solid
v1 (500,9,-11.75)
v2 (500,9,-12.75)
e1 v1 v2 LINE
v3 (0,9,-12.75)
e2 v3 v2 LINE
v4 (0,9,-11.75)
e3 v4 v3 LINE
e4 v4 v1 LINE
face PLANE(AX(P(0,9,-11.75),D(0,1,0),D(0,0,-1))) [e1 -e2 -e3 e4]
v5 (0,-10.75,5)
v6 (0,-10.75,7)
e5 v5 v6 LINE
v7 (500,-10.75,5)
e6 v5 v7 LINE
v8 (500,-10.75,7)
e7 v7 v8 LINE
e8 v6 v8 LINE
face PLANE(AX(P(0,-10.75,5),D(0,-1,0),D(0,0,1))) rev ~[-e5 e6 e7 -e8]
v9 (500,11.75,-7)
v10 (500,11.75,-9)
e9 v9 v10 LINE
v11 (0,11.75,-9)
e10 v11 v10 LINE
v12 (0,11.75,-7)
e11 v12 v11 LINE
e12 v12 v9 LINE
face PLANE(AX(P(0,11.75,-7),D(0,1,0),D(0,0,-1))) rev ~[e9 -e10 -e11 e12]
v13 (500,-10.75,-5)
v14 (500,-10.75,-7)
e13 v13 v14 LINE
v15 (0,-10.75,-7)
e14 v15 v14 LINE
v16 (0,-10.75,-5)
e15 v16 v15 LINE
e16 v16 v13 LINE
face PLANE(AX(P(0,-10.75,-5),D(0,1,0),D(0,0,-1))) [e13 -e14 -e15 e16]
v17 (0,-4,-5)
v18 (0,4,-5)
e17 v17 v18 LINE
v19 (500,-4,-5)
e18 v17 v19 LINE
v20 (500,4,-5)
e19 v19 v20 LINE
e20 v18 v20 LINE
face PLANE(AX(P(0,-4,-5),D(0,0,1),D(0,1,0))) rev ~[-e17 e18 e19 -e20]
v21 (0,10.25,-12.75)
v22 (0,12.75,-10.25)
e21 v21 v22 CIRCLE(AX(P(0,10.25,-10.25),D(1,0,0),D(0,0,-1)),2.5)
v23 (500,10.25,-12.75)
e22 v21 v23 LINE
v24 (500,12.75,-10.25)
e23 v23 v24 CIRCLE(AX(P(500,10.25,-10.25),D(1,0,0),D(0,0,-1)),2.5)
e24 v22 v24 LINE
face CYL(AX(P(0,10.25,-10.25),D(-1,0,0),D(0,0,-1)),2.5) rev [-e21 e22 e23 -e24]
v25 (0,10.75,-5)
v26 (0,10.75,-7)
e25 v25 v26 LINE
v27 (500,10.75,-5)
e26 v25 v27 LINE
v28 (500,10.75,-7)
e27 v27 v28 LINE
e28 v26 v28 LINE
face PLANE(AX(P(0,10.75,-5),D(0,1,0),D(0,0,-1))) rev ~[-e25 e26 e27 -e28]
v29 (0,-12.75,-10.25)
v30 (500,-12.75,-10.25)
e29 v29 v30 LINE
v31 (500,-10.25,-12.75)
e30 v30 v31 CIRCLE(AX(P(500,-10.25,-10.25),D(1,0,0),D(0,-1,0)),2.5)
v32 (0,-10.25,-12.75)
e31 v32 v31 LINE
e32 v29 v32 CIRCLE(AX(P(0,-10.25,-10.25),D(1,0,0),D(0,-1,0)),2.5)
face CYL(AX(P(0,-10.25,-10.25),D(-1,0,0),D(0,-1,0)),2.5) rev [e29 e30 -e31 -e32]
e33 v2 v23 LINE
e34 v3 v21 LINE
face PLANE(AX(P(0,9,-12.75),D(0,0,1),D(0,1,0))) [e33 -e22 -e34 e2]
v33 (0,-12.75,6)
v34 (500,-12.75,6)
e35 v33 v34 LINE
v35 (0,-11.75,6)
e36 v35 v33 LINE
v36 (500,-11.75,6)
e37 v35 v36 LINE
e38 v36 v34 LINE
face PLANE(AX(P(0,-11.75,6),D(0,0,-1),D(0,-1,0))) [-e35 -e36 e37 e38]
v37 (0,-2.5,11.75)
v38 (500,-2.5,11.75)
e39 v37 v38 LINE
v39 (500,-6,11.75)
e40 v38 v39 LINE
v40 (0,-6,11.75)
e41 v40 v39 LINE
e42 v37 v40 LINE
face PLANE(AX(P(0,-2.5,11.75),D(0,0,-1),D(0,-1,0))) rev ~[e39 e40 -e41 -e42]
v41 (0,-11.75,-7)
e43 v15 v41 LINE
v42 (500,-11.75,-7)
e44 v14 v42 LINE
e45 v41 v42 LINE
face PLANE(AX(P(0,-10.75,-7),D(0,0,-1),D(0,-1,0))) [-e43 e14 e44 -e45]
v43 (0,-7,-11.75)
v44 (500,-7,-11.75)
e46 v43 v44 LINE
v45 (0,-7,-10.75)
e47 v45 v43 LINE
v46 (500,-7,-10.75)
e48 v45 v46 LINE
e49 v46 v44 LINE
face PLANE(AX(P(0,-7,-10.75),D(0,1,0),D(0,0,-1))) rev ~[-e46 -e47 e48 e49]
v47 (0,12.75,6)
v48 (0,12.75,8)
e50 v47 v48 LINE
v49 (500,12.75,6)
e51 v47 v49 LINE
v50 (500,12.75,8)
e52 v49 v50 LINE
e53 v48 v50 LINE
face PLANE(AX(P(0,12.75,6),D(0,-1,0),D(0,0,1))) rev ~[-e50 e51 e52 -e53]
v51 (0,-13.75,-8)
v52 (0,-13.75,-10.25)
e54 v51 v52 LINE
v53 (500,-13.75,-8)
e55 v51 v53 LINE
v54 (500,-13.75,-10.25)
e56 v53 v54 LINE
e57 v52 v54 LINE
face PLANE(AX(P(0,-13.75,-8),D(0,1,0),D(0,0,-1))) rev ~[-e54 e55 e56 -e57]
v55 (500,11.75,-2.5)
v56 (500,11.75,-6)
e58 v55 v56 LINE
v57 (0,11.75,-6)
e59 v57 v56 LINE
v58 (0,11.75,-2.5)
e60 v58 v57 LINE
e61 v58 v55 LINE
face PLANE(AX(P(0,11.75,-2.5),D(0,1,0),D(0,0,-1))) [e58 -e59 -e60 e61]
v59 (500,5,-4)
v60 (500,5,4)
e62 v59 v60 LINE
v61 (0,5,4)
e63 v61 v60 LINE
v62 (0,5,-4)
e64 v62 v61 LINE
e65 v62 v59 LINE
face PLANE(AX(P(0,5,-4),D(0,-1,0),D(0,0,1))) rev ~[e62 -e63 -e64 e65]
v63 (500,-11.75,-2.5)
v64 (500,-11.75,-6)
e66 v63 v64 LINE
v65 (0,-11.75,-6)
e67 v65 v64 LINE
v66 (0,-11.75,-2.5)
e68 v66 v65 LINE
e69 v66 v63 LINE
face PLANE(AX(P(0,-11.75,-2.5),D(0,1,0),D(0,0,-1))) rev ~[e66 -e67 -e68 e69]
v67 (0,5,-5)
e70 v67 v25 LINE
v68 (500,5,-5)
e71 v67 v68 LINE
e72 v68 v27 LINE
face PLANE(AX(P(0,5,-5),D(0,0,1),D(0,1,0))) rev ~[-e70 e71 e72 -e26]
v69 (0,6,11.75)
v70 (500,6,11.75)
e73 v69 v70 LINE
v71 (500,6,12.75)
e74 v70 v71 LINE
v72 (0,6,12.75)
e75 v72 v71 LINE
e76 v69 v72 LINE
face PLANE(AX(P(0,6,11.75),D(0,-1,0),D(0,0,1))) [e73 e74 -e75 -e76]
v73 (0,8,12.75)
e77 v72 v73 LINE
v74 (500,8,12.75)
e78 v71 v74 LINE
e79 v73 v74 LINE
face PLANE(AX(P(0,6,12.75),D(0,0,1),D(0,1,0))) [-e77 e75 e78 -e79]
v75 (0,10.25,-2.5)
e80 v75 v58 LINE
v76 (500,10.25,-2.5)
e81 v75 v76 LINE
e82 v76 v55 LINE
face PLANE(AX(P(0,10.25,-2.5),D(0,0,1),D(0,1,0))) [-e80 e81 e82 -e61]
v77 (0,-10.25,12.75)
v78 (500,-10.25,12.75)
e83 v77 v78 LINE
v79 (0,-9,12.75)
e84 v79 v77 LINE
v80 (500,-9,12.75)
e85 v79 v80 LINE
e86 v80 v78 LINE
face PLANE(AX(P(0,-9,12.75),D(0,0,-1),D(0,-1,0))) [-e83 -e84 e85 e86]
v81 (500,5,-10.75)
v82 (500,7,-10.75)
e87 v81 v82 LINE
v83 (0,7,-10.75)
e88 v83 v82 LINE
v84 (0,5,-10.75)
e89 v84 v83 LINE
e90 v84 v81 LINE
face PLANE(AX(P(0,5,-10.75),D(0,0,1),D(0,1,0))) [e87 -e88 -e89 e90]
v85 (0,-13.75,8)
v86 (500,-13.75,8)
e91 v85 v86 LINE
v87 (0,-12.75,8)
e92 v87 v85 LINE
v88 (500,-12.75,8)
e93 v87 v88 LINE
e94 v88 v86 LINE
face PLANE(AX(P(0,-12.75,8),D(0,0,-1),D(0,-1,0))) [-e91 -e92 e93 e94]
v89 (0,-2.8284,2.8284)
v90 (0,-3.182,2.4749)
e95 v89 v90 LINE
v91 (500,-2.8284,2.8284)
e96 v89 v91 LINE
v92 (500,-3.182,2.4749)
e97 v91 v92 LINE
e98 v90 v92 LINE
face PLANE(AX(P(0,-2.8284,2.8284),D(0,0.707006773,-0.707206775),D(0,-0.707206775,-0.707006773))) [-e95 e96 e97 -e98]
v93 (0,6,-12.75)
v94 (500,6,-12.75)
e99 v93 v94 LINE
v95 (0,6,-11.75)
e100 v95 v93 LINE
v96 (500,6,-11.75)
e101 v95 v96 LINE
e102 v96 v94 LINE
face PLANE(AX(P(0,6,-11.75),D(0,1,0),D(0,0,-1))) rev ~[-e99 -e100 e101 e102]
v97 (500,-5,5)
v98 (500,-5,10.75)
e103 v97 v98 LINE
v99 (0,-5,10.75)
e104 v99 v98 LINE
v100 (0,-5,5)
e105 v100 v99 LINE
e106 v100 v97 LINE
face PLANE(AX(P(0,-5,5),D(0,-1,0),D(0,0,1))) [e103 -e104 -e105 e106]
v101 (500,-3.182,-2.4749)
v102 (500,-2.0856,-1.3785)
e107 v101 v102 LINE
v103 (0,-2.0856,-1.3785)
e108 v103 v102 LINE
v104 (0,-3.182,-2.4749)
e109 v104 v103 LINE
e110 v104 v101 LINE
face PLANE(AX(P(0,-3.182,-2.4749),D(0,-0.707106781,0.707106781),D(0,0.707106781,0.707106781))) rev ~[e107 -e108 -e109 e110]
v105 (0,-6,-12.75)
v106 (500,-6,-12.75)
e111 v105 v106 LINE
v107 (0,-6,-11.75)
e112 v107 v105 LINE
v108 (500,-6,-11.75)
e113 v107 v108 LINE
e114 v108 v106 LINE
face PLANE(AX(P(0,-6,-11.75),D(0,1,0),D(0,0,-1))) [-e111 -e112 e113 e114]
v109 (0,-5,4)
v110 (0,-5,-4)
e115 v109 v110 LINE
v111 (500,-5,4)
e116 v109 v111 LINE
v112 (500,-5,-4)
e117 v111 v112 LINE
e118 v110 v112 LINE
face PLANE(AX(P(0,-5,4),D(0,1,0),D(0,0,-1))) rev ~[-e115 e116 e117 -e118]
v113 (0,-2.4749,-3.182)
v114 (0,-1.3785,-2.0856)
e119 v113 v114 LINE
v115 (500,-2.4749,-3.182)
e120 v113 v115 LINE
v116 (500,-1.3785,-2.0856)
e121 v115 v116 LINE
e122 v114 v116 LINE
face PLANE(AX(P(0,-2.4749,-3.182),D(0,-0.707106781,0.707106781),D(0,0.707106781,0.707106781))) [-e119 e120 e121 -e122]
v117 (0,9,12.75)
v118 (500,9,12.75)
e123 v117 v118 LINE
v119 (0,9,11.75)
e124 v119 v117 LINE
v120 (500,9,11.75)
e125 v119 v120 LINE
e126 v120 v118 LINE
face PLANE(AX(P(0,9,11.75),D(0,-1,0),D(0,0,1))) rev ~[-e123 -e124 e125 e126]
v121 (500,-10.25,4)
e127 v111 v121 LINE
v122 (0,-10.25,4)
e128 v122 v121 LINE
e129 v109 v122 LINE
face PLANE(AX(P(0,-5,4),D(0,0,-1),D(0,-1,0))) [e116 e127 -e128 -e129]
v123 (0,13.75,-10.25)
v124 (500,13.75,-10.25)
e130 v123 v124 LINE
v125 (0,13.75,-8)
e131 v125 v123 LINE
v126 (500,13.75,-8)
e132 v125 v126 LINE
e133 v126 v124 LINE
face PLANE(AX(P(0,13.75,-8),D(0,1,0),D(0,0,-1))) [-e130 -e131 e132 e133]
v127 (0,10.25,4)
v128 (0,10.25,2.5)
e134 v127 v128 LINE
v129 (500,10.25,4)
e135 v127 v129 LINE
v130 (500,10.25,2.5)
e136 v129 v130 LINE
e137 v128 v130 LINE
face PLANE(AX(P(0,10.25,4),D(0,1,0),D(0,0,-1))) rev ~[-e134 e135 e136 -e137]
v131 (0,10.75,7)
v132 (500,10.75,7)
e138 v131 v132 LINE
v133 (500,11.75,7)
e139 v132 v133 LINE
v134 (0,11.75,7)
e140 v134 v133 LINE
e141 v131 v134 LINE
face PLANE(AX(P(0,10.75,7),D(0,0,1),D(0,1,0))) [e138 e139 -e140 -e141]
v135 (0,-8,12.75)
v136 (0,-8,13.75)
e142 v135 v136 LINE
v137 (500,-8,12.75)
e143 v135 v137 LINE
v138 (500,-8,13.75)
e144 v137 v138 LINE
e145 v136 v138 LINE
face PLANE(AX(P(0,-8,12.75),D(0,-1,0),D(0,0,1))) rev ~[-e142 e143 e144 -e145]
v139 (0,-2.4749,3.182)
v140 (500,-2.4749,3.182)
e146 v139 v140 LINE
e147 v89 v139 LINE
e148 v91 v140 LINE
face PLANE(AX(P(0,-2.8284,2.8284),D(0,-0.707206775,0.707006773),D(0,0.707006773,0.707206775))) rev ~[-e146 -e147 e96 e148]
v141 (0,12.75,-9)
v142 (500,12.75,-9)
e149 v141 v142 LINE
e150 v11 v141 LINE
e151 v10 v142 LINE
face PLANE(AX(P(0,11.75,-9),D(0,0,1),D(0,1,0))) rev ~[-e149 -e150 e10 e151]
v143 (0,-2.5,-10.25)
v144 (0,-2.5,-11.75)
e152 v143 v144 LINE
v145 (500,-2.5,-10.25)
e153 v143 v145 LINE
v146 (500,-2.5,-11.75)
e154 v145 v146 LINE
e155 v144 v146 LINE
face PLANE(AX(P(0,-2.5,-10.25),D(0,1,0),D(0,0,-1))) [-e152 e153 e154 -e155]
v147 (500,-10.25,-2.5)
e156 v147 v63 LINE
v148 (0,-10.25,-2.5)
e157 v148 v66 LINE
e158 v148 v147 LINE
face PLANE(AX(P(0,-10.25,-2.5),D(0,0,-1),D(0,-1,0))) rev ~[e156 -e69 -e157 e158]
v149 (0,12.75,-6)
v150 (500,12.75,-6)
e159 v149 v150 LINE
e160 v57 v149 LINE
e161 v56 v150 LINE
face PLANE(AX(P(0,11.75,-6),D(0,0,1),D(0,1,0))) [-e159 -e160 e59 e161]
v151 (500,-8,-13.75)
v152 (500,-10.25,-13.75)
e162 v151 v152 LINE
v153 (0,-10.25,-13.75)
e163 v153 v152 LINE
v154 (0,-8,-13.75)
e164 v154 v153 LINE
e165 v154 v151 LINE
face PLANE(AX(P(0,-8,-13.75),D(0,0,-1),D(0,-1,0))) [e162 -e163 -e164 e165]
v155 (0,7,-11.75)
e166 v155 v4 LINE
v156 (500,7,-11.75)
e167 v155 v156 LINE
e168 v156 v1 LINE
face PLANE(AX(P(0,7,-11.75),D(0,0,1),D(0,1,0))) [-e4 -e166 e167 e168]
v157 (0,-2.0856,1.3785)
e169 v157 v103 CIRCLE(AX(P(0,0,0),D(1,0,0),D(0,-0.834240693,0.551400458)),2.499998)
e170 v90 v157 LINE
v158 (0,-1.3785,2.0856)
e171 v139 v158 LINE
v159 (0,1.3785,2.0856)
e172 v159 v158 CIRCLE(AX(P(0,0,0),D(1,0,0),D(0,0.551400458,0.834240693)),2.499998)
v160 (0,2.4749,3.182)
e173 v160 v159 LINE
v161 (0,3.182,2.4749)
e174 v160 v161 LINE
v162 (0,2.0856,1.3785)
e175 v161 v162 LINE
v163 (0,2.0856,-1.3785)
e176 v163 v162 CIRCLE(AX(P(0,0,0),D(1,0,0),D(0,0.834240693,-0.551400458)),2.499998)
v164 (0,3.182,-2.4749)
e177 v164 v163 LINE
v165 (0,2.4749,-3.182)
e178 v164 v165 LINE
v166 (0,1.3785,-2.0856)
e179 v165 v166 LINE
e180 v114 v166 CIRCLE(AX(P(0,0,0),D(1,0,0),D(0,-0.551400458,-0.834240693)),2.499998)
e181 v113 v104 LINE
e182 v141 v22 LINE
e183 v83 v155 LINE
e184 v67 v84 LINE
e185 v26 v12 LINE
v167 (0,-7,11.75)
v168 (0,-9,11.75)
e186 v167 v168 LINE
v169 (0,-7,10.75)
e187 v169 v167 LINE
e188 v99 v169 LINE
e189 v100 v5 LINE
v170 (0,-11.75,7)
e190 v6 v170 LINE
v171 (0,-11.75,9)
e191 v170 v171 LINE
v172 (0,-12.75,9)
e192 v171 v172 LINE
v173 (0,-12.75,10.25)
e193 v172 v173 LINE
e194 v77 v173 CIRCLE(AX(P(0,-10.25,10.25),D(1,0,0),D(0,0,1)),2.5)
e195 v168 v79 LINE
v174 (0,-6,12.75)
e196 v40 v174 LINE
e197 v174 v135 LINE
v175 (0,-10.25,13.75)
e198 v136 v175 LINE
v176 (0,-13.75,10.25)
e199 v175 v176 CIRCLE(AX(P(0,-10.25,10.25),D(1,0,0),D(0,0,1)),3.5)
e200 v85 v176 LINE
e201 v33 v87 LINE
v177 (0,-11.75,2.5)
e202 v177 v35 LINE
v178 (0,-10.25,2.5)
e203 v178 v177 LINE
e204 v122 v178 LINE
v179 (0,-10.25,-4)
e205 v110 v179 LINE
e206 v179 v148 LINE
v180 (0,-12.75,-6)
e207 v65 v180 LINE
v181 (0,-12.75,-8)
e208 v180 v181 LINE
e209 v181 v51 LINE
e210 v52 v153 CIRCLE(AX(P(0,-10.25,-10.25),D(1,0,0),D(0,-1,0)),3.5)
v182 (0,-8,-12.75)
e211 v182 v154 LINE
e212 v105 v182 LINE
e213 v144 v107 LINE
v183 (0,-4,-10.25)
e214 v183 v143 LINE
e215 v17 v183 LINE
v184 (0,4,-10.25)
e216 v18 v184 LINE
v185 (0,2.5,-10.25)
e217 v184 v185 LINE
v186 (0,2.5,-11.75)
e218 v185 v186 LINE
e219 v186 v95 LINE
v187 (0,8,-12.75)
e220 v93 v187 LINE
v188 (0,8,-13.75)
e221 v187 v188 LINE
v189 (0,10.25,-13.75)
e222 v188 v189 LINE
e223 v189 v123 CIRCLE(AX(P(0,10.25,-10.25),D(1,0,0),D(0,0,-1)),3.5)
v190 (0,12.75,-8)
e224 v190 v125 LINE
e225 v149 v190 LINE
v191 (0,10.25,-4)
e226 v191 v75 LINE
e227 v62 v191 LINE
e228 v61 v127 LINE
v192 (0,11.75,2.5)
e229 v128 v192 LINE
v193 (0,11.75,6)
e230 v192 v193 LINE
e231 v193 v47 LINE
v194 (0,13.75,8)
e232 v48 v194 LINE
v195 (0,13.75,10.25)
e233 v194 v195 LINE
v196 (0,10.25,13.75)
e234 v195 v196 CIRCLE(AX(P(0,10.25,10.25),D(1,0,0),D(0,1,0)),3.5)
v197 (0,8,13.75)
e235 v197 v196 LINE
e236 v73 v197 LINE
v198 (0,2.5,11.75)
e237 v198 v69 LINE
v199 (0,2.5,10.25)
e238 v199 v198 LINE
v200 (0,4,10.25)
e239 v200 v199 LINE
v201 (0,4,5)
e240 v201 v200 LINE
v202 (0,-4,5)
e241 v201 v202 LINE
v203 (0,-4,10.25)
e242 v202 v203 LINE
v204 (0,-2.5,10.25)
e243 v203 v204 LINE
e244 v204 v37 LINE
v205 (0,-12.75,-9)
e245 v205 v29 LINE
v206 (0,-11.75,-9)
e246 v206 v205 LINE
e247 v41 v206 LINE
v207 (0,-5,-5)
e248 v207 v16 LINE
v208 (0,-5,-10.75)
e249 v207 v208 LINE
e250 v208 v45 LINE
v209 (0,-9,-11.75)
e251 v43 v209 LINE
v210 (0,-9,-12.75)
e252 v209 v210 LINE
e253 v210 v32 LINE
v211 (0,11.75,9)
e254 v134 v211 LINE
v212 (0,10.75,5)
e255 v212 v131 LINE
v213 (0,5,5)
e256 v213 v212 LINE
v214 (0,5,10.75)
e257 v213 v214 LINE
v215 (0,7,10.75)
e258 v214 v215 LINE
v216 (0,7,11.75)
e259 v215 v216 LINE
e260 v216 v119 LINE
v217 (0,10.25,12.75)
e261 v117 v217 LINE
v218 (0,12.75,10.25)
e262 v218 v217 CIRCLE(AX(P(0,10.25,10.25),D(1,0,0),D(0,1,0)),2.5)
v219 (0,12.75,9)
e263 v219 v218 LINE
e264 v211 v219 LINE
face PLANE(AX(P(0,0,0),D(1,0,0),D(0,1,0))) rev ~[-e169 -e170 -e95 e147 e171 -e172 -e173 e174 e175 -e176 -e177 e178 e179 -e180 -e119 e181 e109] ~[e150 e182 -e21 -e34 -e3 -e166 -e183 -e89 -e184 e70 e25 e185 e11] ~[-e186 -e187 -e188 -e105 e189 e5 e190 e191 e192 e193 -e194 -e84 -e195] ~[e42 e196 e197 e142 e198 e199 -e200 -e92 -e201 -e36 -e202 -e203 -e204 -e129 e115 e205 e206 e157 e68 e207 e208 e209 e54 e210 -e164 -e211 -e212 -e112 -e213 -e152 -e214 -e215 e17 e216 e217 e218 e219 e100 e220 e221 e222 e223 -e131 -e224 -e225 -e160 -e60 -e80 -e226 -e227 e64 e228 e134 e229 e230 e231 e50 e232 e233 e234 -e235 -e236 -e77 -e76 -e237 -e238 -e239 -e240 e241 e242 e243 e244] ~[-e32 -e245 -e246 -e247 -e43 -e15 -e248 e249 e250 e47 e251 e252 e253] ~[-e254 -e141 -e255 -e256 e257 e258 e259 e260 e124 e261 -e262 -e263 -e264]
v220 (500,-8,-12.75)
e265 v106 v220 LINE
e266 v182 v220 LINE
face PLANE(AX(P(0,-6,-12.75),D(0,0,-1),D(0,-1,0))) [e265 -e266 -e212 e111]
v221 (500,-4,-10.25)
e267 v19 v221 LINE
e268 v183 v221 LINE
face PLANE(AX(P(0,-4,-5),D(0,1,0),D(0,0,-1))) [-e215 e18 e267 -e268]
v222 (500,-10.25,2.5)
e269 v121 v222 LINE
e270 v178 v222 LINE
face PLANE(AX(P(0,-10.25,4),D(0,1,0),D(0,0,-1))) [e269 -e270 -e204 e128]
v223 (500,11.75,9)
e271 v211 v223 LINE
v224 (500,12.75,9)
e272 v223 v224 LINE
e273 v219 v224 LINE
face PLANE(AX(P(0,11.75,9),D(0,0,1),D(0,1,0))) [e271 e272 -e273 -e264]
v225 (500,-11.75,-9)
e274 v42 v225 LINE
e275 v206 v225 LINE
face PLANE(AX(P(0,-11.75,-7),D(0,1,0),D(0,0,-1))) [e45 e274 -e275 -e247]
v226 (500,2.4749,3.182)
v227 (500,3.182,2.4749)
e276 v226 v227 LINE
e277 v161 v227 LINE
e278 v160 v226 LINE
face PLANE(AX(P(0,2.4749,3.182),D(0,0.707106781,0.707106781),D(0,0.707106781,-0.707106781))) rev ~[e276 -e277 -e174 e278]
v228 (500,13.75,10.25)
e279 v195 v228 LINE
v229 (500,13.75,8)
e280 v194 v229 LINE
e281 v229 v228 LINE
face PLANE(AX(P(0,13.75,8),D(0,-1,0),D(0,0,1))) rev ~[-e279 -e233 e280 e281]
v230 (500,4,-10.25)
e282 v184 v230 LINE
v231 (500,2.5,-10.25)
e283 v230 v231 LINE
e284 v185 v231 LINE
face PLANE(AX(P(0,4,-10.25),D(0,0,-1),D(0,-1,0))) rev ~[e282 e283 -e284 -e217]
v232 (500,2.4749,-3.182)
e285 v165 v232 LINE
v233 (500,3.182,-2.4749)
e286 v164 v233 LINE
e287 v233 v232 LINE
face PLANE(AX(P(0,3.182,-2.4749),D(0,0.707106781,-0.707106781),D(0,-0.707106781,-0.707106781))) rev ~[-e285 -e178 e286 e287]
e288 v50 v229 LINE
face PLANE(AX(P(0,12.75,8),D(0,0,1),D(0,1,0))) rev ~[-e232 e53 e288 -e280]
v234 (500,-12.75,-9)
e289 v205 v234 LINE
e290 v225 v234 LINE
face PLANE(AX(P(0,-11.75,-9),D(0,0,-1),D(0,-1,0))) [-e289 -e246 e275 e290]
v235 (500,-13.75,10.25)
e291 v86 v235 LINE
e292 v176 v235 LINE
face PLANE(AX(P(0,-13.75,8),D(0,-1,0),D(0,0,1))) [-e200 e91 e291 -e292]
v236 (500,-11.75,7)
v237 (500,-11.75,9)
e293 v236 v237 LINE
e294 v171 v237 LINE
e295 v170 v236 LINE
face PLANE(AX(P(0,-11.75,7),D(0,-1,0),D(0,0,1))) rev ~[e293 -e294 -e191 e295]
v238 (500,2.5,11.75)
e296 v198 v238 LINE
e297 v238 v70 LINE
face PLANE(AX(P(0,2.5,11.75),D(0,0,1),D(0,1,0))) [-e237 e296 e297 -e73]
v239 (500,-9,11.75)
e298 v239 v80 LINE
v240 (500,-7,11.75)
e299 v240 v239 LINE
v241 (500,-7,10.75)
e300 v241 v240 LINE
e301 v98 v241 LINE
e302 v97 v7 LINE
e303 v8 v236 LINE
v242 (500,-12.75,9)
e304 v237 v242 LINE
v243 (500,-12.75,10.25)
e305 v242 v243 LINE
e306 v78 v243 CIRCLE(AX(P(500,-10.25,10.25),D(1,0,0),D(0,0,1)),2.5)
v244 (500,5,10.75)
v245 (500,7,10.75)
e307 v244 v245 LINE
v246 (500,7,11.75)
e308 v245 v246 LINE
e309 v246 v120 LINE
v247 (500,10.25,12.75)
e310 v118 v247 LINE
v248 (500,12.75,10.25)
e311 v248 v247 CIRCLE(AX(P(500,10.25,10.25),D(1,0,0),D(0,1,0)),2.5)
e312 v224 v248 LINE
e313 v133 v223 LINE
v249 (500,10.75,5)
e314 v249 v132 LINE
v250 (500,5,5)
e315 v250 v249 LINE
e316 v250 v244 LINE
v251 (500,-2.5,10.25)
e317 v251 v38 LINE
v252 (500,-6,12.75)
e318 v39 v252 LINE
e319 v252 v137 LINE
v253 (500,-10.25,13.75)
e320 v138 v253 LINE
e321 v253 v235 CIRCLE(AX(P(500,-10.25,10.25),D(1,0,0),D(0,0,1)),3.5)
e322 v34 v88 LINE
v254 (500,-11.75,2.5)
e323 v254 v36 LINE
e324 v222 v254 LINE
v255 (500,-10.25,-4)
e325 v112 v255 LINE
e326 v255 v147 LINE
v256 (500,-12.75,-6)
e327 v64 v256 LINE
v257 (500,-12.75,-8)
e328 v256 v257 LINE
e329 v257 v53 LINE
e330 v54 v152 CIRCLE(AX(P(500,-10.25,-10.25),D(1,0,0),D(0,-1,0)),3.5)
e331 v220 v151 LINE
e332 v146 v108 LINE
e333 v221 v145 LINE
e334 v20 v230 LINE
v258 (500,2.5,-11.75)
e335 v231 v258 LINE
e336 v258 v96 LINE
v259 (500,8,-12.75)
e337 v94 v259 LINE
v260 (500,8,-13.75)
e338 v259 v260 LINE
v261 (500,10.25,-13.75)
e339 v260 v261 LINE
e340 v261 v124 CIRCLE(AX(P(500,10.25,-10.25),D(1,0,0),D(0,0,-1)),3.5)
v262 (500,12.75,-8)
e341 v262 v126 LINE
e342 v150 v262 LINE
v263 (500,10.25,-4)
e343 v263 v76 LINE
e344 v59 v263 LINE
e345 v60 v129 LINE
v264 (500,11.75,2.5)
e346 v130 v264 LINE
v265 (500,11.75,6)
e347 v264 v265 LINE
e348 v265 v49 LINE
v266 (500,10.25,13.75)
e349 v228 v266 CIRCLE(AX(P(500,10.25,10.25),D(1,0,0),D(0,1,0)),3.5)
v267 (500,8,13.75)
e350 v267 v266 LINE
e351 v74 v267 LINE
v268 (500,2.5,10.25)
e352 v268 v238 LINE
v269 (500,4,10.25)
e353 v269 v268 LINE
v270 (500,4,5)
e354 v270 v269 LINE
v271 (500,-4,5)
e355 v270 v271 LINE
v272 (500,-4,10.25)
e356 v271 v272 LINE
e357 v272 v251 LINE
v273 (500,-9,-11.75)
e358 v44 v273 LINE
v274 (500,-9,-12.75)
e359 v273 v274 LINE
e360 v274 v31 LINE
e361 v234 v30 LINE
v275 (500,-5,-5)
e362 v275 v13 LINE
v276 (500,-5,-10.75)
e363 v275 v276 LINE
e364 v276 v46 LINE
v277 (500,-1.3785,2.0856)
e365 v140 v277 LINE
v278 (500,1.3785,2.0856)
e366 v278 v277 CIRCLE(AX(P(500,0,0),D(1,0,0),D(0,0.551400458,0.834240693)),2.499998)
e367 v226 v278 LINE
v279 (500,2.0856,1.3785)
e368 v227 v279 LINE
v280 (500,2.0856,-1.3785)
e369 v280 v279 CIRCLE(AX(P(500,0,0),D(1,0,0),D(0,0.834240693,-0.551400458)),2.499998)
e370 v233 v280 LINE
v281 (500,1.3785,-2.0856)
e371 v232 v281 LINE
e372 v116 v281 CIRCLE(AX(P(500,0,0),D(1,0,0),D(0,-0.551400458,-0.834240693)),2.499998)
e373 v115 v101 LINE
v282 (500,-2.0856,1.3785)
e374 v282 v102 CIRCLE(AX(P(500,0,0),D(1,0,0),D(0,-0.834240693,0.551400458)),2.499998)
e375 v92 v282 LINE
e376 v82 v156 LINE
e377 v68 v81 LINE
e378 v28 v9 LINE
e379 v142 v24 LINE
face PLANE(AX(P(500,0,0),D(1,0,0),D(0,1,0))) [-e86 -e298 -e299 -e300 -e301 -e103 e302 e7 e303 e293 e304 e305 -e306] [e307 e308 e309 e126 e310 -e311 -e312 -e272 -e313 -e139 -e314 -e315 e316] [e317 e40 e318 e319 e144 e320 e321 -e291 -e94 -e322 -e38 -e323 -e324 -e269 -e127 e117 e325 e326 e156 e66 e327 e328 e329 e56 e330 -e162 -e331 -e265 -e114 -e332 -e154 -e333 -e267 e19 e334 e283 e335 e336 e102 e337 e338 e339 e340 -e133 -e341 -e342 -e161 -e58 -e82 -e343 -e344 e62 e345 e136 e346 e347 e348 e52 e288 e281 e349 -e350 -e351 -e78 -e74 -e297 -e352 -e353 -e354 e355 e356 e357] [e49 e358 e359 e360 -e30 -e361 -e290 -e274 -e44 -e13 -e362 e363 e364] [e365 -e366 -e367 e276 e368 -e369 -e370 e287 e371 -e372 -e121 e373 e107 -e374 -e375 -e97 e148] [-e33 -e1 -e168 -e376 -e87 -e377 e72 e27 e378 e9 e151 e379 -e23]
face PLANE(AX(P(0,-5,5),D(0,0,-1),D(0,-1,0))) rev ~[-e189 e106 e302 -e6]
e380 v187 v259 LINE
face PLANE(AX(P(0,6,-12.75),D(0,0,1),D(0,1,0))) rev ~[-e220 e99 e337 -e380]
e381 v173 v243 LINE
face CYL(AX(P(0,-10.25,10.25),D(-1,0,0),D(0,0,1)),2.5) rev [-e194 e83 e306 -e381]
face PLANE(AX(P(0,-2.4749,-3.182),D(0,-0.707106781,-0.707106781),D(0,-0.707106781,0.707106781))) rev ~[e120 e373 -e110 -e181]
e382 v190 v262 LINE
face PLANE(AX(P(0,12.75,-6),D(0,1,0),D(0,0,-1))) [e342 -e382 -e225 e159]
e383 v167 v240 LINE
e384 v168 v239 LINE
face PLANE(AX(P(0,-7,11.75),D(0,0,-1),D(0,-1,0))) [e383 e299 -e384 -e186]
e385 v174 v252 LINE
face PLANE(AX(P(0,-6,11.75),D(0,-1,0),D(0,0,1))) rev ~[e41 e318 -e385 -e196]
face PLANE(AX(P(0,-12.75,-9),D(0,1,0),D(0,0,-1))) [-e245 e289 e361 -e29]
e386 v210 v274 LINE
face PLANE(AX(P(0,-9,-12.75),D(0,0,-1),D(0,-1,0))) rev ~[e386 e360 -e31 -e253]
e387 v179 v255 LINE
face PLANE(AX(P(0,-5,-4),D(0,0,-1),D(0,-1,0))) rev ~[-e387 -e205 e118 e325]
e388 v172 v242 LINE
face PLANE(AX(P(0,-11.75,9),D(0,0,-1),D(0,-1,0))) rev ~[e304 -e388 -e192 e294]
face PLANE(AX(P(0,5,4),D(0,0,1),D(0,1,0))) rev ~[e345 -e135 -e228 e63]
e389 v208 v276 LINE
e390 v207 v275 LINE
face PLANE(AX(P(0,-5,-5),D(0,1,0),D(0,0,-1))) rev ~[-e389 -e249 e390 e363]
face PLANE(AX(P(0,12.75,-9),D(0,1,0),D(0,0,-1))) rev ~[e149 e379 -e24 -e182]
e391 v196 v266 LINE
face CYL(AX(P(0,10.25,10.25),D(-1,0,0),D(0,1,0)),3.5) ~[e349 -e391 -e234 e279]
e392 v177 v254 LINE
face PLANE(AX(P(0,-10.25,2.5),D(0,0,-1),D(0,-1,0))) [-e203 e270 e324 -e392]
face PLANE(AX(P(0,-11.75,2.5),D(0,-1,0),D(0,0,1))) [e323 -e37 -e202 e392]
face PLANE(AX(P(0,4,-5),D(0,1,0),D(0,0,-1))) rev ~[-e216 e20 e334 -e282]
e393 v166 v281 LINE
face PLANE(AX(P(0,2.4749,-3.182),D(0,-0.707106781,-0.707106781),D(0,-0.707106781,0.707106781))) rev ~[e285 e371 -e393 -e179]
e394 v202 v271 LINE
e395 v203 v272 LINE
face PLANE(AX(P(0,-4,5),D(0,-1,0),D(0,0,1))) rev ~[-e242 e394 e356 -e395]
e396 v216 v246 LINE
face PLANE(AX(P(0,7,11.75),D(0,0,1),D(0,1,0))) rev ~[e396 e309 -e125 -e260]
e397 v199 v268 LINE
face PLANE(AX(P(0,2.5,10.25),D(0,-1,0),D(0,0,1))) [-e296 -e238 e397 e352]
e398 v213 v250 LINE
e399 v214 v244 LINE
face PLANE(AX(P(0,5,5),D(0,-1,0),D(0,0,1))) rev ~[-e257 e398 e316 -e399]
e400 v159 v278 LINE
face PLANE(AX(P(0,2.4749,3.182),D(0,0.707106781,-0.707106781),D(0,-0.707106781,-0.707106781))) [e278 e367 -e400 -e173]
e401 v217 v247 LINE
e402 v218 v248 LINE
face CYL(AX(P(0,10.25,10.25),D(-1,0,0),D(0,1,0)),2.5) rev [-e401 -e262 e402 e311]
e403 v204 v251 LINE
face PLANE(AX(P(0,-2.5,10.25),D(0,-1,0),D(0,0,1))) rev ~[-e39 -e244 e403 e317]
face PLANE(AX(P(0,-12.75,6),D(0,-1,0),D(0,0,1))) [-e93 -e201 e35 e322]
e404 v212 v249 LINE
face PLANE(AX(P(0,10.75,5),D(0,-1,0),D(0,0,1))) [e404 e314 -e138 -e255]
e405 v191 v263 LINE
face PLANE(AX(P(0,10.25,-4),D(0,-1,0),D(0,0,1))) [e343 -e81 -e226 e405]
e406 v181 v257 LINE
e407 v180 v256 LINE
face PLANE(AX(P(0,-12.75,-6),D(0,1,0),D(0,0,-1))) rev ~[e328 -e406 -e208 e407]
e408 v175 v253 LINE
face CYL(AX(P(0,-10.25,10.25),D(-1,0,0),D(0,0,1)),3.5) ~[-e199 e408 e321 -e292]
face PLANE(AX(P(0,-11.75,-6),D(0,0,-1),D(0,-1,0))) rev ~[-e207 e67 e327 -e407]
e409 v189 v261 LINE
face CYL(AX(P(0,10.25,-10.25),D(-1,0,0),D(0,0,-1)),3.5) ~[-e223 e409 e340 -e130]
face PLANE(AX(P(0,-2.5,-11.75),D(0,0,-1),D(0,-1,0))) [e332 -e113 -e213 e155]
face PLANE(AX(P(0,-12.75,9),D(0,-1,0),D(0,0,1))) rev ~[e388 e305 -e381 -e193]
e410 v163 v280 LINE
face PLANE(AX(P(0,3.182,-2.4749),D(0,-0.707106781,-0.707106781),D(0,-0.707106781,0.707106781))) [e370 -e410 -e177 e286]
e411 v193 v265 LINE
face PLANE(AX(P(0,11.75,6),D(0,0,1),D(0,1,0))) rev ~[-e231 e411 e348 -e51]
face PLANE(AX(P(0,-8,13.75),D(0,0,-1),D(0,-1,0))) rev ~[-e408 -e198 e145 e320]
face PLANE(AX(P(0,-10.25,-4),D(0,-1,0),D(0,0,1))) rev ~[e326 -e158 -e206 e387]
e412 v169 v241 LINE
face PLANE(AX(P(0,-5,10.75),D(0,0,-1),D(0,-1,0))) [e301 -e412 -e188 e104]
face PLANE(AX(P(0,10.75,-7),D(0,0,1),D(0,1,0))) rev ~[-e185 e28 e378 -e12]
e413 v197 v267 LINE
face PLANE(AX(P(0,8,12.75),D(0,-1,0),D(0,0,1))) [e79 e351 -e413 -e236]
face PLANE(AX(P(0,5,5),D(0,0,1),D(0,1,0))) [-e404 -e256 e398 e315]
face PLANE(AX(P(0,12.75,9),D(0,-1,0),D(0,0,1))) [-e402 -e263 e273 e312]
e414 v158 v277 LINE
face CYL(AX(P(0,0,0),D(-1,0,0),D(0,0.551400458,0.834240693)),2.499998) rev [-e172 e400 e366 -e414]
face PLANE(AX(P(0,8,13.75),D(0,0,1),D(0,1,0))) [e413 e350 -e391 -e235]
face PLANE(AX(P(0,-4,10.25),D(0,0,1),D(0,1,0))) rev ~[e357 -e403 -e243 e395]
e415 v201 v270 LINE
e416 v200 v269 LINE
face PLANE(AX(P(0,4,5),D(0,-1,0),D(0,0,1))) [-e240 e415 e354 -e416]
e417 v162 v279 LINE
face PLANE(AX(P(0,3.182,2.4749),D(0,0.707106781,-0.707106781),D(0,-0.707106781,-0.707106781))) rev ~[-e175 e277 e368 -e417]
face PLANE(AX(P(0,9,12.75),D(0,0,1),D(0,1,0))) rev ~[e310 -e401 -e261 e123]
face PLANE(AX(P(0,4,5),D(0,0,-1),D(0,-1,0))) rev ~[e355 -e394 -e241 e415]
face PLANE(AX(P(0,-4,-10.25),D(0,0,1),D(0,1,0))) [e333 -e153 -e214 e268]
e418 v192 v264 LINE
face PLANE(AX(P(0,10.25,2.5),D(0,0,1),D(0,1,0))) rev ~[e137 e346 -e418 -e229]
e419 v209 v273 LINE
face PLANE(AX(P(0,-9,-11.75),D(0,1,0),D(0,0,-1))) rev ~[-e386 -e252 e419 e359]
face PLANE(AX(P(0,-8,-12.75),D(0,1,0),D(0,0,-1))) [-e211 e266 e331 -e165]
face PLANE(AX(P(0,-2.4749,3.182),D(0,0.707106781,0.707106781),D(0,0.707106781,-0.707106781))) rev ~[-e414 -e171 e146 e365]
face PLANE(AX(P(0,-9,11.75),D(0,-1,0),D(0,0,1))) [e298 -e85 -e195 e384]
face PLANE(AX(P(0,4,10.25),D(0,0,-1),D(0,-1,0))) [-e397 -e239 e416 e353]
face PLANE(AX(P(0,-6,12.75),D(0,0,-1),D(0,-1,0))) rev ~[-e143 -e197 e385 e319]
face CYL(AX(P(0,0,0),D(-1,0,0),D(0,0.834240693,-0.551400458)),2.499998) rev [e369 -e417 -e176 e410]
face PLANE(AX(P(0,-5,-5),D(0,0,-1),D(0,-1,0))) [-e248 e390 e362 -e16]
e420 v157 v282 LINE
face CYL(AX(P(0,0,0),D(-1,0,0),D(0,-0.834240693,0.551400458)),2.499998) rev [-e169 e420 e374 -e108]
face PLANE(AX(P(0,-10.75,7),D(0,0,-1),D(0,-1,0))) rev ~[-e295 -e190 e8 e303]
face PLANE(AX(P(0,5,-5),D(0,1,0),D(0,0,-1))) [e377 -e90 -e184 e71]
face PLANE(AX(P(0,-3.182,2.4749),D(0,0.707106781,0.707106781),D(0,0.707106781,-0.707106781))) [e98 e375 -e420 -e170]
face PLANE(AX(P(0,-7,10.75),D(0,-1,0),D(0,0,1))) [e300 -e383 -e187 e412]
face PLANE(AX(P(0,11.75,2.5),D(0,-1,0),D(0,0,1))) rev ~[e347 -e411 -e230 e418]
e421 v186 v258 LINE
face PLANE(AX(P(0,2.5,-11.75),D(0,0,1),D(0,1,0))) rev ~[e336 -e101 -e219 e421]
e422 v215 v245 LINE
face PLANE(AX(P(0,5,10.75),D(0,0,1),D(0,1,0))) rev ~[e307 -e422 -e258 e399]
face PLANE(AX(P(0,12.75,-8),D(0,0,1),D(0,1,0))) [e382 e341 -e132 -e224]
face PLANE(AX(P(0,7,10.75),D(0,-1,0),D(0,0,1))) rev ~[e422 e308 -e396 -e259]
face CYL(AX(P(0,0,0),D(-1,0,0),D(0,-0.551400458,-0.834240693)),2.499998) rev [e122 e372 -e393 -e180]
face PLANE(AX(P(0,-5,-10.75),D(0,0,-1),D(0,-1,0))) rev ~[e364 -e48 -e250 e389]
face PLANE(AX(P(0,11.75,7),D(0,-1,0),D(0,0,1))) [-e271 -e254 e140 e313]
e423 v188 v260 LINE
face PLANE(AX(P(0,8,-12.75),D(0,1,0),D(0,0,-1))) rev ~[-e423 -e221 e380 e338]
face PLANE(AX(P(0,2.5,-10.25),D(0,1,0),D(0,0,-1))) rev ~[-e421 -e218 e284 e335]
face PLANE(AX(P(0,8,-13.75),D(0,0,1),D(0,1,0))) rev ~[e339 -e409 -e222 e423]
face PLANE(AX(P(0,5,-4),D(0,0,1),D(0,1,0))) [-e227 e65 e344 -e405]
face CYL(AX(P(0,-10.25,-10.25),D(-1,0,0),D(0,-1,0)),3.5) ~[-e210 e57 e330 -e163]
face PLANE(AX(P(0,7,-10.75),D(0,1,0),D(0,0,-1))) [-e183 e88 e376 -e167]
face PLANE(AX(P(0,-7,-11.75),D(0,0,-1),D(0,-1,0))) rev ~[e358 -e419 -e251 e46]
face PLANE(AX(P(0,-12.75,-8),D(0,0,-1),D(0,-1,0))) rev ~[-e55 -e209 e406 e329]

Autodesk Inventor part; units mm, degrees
ref_plane "YZ Plane" through (0, 0, 0) normal (1, 0, 0) x (0, 1, 0)
ref_plane "XZ Plane" through (0, 0, 0) normal (0, 1, 0) x (-1, 0, 0)
ref_plane "XY Plane" through (0, 0, 0) normal (0, 0, 1) x (1, 0, 0)
sketch "Sketch1" plane through (0, 0, 0) normal (1, 0, 0) x (0, 1, 0)
  line L0 (0, 25.1698) -> (0, -25.1698) construction
  line L1 (-25.1698, 0) -> (25.1698, 0) construction
  line L2 (-13.75, 13.75) -> (13.75, 13.75) construction
  line L3 (13.75, 13.75) -> (13.75, -13.75) construction
  line L4 (13.75, -13.75) -> (-13.75, -13.75) construction
  line L5 (-13.75, -13.75) -> (-13.75, 13.75) construction
  line L6 (-17.9785, 13.9213) -> (17.1336, 13.9213) construction
  line L7 (17.1336, 13.9213) -> (17.1336, -14.9109) construction
  line L8 (17.1336, -14.9109) -> (-17.9785, -14.9109) construction
  line L9 (-17.9785, -14.9109) -> (-17.9785, 13.9213) construction
  line L10 (5, -5) -> (-5, -5) construction
  line L11 (-5, -5) -> (-5, 5) construction
  line L12 (-5, 5) -> (5, 5) construction
  line L13 (5, 5) -> (5, -5) construction
  line L14 (5, -5) -> (-5, 5) construction
  line L15 (-5, -5) -> (5, 5) construction
  line L16 (-5, 4) -> (-10.25, 4)
  line L17 (-10.25, 4) -> (-10.25, 2.5)
  line L18 (-10.25, 2.5) -> (-11.75, 2.5)
  line L19 (-11.75, 2.5) -> (-11.75, 6)
  line L20 (-11.75, 6) -> (-12.75, 6)
  line L21 (-12.75, 6) -> (-12.75, 8)
  line L22 (-12.75, 8) -> (-13.75, 8)
  line L23 (-13.75, 13.75) -> (0, 0) construction
  line L24 (-4, 5) -> (-4, 10.25)
  line L25 (-4, 10.25) -> (-2.5, 10.25)
  line L26 (-2.5, 10.25) -> (-2.5, 11.75)
  line L27 (-2.5, 11.75) -> (-6, 11.75)
  line L28 (-6, 11.75) -> (-6, 12.75)
  line L29 (-6, 12.75) -> (-8, 12.75)
  line L30 (-8, 12.75) -> (-8, 13.75)
  line L31 (-13.75, 8) -> (-13.75, 10.25)
  line L32 (-8, 13.75) -> (-10.25, 13.75)
  arc A0 (-10.25, 13.75) -> (-13.75, 10.25) centre (-10.25, 10.25) ccw
  line L33 (-5, 5) -> (-10.75, 5)
  line L34 (-10.75, 5) -> (-10.75, 7)
  line L35 (-10.75, 7) -> (-11.75, 7)
  line L36 (-11.75, 7) -> (-11.75, 9)
  line L37 (-11.75, 9) -> (-12.75, 9)
  line L38 (-5, 5) -> (-5, 10.75)
  line L39 (-5, 10.75) -> (-7, 10.75)
  line L40 (-7, 10.75) -> (-7, 11.75)
  line L41 (-7, 11.75) -> (-9, 11.75)
  line L42 (-9, 11.75) -> (-9, 12.75)
  line L43 (-12.75, 9) -> (-12.75, 10.25)
  line L44 (-9, 12.75) -> (-10.25, 12.75)
  arc A1 (-10.25, 12.75) -> (-12.75, 10.25) centre (-10.25, 10.25) ccw
  line L45 (-4, -5) -> (-4, -10.25)
  line L46 (-4, -10.25) -> (-2.5, -10.25)
  line L47 (-2.5, -10.25) -> (-2.5, -11.75)
  line L48 (-2.5, -11.75) -> (-6, -11.75)
  line L49 (-6, -11.75) -> (-6, -12.75)
  line L50 (-6, -12.75) -> (-8, -12.75)
  line L51 (-8, -12.75) -> (-8, -13.75)
  line L52 (-10.25, -4) -> (-10.25, -2.5)
  line L53 (-5, -4) -> (-10.25, -4)
  line L54 (-10.25, -2.5) -> (-11.75, -2.5)
  line L55 (-11.75, -6) -> (-12.75, -6)
  line L56 (-11.75, -2.5) -> (-11.75, -6)
  line L57 (-12.75, -6) -> (-12.75, -8)
  line L58 (-12.75, -8) -> (-13.75, -8)
  line L59 (-8, -13.75) -> (-10.25, -13.75)
  line L60 (-13.75, -8) -> (-13.75, -10.25)
  arc A2 (-13.75, -10.25) -> (-10.25, -13.75) centre (-10.25, -10.25) ccw
  line L61 (-5, -5) -> (-5, -10.75)
  line L62 (-5, -10.75) -> (-7, -10.75)
  line L63 (-7, -10.75) -> (-7, -11.75)
  line L64 (-7, -11.75) -> (-9, -11.75)
  line L65 (-9, -11.75) -> (-9, -12.75)
  line L66 (-11.75, -9) -> (-12.75, -9)
  line L67 (-11.75, -7) -> (-11.75, -9)
  line L68 (-10.75, -7) -> (-11.75, -7)
  line L69 (-10.75, -5) -> (-10.75, -7)
  line L70 (-5, -5) -> (-10.75, -5)
  line L71 (-9, -12.75) -> (-10.25, -12.75)
  line L72 (-12.75, -9) -> (-12.75, -10.25)
  arc A3 (-12.75, -10.25) -> (-10.25, -12.75) centre (-10.25, -10.25) ccw
  line L73 (5, -4) -> (10.25, -4)
  line L74 (10.25, -4) -> (10.25, -2.5)
  line L75 (10.25, -2.5) -> (11.75, -2.5)
  line L76 (11.75, -2.5) -> (11.75, -6)
  line L77 (11.75, -6) -> (12.75, -6)
  line L78 (12.75, -6) -> (12.75, -8)
  line L79 (12.75, -8) -> (13.75, -8)
  line L80 (4, -10.25) -> (2.5, -10.25)
  line L81 (4, -5) -> (4, -10.25)
  line L82 (2.5, -10.25) -> (2.5, -11.75)
  line L83 (6, -11.75) -> (6, -12.75)
  line L84 (2.5, -11.75) -> (6, -11.75)
  line L85 (6, -12.75) -> (8, -12.75)
  line L86 (8, -12.75) -> (8, -13.75)
  line L87 (13.75, -8) -> (13.75, -10.25)
  line L88 (8, -13.75) -> (10.25, -13.75)
  arc A4 (10.25, -13.75) -> (13.75, -10.25) centre (10.25, -10.25) ccw
  line L89 (5, -5) -> (10.75, -5)
  line L90 (10.75, -5) -> (10.75, -7)
  line L91 (10.75, -7) -> (11.75, -7)
  line L92 (11.75, -7) -> (11.75, -9)
  line L93 (11.75, -9) -> (12.75, -9)
  line L94 (9, -11.75) -> (9, -12.75)
  line L95 (7, -11.75) -> (9, -11.75)
  line L96 (7, -10.75) -> (7, -11.75)
  line L97 (5, -10.75) -> (7, -10.75)
  line L98 (5, -5) -> (5, -10.75)
  line L99 (12.75, -9) -> (12.75, -10.25)
  line L100 (9, -12.75) -> (10.25, -12.75)
  arc A5 (10.25, -12.75) -> (12.75, -10.25) centre (10.25, -10.25) ccw
  line L101 (4, 5) -> (4, 10.25)
  line L102 (4, 10.25) -> (2.5, 10.25)
  line L103 (2.5, 10.25) -> (2.5, 11.75)
  line L104 (2.5, 11.75) -> (6, 11.75)
  line L105 (6, 11.75) -> (6, 12.75)
  line L106 (6, 12.75) -> (8, 12.75)
  line L107 (8, 12.75) -> (8, 13.75)
  line L108 (10.25, 4) -> (10.25, 2.5)
  line L109 (5, 4) -> (10.25, 4)
  line L110 (10.25, 2.5) -> (11.75, 2.5)
  line L111 (11.75, 6) -> (12.75, 6)
  line L112 (11.75, 2.5) -> (11.75, 6)
  line L113 (12.75, 6) -> (12.75, 8)
  line L114 (12.75, 8) -> (13.75, 8)
  line L115 (8, 13.75) -> (10.25, 13.75)
  line L116 (13.75, 8) -> (13.75, 10.25)
  arc A6 (13.75, 10.25) -> (10.25, 13.75) centre (10.25, 10.25) ccw
  line L117 (5, 5) -> (5, 10.75)
  line L118 (5, 10.75) -> (7, 10.75)
  line L119 (7, 10.75) -> (7, 11.75)
  line L120 (7, 11.75) -> (9, 11.75)
  line L121 (9, 11.75) -> (9, 12.75)
  line L122 (11.75, 9) -> (12.75, 9)
  line L123 (11.75, 7) -> (11.75, 9)
  line L124 (10.75, 7) -> (11.75, 7)
  line L125 (10.75, 5) -> (10.75, 7)
  line L126 (5, 5) -> (10.75, 5)
  line L127 (9, 12.75) -> (10.25, 12.75)
  line L128 (12.75, 9) -> (12.75, 10.25)
  arc A7 (12.75, 10.25) -> (10.25, 12.75) centre (10.25, 10.25) ccw
  line L129 (0, 0) -> (-2.8284, 2.8284) construction
  line L130 (-2.8284, 2.8284) -> (-3.182, 2.4749)
  line L131 (-3.182, 2.4749) -> (-2.0856, 1.3785)
  line L132 (-2.8284, 2.8284) -> (-2.4749, 3.182)
  line L133 (-2.4749, 3.182) -> (-1.3785, 2.0856)
  line L134 (-3.182, 2.4749) -> (-2.4749, 3.182)
  line L135 (-2.4749, -3.182) -> (-1.3785, -2.0856)
  line L136 (-3.182, -2.4749) -> (-2.0856, -1.3785)
  line L137 (-2.4749, -3.182) -> (-3.182, -2.4749)
  line L138 (3.182, -2.4749) -> (2.0856, -1.3785)
  line L139 (2.4749, -3.182) -> (1.3785, -2.0856)
  line L140 (3.182, -2.4749) -> (2.4749, -3.182)
  line L141 (2.4749, 3.182) -> (1.3785, 2.0856)
  line L142 (3.182, 2.4749) -> (2.0856, 1.3785)
  line L143 (2.4749, 3.182) -> (3.182, 2.4749)
  arc A8 (-2.0856, 1.3785) -> (-2.0856, -1.3785) centre (0, 0) ccw
  arc A9 (-1.3785, -2.0856) -> (1.3785, -2.0856) centre (0, 0) ccw
  arc A10 (2.0856, -1.3785) -> (2.0856, 1.3785) centre (0, 0) ccw
  arc A11 (1.3785, 2.0856) -> (-1.3785, 2.0856) centre (0, 0) ccw
  line L144 (-5, 4) -> (-5, -4)
  line L145 (-4, -5) -> (4, -5)
  line L146 (5, -4) -> (5, 4)
  line L147 (4, 5) -> (-4, 5)
  point P0 (-12.75, 12.75)
  point P1 (-13.75, -13.75)
  point P2 (-13.9213, -17.9785)
  point P3 (-12.75, -12.75)
  point P4 (13.75, -13.75)
  point P5 (17.9785, -13.9213)
  point P6 (12.75, -12.75)
  point P7 (13.75, 13.75)
  point P8 (13.9213, 17.9785)
  point P9 (12.75, 12.75)
  dimension "d0" = 27.5
  dimension "d1" = 27.5
  dimension "d67" = 10
  dimension "d68" = 10
  dimension "d69" = 1
  dimension "d73" = 1.5
  dimension "d74" = 3.5
  dimension "d75" = 1
  dimension "d76" = 2
  dimension "d77" = 1
  dimension "d78" = 1.5
  dimension "d80" = 3.5
  dimension "d81" = 1
  dimension "d82" = 1
  dimension "d83" = 1
  dimension "d84" = 1
  dimension "d85" = 1
  dimension "d88" = 2.5
  dimension "d91" = 360
  dimension "d96" = 4
  dimension "d97" = 0.5
  dimension "d98" = 0.5
  dimension "d102" = 360
  dimension "d120" = 2.5
extrude "Extrusion1" add sketch "Sketch1" along normal blind 500
equation "\"d1\" = d0"
equation "\"d68\" = d67"
properties part number "profilato500"
